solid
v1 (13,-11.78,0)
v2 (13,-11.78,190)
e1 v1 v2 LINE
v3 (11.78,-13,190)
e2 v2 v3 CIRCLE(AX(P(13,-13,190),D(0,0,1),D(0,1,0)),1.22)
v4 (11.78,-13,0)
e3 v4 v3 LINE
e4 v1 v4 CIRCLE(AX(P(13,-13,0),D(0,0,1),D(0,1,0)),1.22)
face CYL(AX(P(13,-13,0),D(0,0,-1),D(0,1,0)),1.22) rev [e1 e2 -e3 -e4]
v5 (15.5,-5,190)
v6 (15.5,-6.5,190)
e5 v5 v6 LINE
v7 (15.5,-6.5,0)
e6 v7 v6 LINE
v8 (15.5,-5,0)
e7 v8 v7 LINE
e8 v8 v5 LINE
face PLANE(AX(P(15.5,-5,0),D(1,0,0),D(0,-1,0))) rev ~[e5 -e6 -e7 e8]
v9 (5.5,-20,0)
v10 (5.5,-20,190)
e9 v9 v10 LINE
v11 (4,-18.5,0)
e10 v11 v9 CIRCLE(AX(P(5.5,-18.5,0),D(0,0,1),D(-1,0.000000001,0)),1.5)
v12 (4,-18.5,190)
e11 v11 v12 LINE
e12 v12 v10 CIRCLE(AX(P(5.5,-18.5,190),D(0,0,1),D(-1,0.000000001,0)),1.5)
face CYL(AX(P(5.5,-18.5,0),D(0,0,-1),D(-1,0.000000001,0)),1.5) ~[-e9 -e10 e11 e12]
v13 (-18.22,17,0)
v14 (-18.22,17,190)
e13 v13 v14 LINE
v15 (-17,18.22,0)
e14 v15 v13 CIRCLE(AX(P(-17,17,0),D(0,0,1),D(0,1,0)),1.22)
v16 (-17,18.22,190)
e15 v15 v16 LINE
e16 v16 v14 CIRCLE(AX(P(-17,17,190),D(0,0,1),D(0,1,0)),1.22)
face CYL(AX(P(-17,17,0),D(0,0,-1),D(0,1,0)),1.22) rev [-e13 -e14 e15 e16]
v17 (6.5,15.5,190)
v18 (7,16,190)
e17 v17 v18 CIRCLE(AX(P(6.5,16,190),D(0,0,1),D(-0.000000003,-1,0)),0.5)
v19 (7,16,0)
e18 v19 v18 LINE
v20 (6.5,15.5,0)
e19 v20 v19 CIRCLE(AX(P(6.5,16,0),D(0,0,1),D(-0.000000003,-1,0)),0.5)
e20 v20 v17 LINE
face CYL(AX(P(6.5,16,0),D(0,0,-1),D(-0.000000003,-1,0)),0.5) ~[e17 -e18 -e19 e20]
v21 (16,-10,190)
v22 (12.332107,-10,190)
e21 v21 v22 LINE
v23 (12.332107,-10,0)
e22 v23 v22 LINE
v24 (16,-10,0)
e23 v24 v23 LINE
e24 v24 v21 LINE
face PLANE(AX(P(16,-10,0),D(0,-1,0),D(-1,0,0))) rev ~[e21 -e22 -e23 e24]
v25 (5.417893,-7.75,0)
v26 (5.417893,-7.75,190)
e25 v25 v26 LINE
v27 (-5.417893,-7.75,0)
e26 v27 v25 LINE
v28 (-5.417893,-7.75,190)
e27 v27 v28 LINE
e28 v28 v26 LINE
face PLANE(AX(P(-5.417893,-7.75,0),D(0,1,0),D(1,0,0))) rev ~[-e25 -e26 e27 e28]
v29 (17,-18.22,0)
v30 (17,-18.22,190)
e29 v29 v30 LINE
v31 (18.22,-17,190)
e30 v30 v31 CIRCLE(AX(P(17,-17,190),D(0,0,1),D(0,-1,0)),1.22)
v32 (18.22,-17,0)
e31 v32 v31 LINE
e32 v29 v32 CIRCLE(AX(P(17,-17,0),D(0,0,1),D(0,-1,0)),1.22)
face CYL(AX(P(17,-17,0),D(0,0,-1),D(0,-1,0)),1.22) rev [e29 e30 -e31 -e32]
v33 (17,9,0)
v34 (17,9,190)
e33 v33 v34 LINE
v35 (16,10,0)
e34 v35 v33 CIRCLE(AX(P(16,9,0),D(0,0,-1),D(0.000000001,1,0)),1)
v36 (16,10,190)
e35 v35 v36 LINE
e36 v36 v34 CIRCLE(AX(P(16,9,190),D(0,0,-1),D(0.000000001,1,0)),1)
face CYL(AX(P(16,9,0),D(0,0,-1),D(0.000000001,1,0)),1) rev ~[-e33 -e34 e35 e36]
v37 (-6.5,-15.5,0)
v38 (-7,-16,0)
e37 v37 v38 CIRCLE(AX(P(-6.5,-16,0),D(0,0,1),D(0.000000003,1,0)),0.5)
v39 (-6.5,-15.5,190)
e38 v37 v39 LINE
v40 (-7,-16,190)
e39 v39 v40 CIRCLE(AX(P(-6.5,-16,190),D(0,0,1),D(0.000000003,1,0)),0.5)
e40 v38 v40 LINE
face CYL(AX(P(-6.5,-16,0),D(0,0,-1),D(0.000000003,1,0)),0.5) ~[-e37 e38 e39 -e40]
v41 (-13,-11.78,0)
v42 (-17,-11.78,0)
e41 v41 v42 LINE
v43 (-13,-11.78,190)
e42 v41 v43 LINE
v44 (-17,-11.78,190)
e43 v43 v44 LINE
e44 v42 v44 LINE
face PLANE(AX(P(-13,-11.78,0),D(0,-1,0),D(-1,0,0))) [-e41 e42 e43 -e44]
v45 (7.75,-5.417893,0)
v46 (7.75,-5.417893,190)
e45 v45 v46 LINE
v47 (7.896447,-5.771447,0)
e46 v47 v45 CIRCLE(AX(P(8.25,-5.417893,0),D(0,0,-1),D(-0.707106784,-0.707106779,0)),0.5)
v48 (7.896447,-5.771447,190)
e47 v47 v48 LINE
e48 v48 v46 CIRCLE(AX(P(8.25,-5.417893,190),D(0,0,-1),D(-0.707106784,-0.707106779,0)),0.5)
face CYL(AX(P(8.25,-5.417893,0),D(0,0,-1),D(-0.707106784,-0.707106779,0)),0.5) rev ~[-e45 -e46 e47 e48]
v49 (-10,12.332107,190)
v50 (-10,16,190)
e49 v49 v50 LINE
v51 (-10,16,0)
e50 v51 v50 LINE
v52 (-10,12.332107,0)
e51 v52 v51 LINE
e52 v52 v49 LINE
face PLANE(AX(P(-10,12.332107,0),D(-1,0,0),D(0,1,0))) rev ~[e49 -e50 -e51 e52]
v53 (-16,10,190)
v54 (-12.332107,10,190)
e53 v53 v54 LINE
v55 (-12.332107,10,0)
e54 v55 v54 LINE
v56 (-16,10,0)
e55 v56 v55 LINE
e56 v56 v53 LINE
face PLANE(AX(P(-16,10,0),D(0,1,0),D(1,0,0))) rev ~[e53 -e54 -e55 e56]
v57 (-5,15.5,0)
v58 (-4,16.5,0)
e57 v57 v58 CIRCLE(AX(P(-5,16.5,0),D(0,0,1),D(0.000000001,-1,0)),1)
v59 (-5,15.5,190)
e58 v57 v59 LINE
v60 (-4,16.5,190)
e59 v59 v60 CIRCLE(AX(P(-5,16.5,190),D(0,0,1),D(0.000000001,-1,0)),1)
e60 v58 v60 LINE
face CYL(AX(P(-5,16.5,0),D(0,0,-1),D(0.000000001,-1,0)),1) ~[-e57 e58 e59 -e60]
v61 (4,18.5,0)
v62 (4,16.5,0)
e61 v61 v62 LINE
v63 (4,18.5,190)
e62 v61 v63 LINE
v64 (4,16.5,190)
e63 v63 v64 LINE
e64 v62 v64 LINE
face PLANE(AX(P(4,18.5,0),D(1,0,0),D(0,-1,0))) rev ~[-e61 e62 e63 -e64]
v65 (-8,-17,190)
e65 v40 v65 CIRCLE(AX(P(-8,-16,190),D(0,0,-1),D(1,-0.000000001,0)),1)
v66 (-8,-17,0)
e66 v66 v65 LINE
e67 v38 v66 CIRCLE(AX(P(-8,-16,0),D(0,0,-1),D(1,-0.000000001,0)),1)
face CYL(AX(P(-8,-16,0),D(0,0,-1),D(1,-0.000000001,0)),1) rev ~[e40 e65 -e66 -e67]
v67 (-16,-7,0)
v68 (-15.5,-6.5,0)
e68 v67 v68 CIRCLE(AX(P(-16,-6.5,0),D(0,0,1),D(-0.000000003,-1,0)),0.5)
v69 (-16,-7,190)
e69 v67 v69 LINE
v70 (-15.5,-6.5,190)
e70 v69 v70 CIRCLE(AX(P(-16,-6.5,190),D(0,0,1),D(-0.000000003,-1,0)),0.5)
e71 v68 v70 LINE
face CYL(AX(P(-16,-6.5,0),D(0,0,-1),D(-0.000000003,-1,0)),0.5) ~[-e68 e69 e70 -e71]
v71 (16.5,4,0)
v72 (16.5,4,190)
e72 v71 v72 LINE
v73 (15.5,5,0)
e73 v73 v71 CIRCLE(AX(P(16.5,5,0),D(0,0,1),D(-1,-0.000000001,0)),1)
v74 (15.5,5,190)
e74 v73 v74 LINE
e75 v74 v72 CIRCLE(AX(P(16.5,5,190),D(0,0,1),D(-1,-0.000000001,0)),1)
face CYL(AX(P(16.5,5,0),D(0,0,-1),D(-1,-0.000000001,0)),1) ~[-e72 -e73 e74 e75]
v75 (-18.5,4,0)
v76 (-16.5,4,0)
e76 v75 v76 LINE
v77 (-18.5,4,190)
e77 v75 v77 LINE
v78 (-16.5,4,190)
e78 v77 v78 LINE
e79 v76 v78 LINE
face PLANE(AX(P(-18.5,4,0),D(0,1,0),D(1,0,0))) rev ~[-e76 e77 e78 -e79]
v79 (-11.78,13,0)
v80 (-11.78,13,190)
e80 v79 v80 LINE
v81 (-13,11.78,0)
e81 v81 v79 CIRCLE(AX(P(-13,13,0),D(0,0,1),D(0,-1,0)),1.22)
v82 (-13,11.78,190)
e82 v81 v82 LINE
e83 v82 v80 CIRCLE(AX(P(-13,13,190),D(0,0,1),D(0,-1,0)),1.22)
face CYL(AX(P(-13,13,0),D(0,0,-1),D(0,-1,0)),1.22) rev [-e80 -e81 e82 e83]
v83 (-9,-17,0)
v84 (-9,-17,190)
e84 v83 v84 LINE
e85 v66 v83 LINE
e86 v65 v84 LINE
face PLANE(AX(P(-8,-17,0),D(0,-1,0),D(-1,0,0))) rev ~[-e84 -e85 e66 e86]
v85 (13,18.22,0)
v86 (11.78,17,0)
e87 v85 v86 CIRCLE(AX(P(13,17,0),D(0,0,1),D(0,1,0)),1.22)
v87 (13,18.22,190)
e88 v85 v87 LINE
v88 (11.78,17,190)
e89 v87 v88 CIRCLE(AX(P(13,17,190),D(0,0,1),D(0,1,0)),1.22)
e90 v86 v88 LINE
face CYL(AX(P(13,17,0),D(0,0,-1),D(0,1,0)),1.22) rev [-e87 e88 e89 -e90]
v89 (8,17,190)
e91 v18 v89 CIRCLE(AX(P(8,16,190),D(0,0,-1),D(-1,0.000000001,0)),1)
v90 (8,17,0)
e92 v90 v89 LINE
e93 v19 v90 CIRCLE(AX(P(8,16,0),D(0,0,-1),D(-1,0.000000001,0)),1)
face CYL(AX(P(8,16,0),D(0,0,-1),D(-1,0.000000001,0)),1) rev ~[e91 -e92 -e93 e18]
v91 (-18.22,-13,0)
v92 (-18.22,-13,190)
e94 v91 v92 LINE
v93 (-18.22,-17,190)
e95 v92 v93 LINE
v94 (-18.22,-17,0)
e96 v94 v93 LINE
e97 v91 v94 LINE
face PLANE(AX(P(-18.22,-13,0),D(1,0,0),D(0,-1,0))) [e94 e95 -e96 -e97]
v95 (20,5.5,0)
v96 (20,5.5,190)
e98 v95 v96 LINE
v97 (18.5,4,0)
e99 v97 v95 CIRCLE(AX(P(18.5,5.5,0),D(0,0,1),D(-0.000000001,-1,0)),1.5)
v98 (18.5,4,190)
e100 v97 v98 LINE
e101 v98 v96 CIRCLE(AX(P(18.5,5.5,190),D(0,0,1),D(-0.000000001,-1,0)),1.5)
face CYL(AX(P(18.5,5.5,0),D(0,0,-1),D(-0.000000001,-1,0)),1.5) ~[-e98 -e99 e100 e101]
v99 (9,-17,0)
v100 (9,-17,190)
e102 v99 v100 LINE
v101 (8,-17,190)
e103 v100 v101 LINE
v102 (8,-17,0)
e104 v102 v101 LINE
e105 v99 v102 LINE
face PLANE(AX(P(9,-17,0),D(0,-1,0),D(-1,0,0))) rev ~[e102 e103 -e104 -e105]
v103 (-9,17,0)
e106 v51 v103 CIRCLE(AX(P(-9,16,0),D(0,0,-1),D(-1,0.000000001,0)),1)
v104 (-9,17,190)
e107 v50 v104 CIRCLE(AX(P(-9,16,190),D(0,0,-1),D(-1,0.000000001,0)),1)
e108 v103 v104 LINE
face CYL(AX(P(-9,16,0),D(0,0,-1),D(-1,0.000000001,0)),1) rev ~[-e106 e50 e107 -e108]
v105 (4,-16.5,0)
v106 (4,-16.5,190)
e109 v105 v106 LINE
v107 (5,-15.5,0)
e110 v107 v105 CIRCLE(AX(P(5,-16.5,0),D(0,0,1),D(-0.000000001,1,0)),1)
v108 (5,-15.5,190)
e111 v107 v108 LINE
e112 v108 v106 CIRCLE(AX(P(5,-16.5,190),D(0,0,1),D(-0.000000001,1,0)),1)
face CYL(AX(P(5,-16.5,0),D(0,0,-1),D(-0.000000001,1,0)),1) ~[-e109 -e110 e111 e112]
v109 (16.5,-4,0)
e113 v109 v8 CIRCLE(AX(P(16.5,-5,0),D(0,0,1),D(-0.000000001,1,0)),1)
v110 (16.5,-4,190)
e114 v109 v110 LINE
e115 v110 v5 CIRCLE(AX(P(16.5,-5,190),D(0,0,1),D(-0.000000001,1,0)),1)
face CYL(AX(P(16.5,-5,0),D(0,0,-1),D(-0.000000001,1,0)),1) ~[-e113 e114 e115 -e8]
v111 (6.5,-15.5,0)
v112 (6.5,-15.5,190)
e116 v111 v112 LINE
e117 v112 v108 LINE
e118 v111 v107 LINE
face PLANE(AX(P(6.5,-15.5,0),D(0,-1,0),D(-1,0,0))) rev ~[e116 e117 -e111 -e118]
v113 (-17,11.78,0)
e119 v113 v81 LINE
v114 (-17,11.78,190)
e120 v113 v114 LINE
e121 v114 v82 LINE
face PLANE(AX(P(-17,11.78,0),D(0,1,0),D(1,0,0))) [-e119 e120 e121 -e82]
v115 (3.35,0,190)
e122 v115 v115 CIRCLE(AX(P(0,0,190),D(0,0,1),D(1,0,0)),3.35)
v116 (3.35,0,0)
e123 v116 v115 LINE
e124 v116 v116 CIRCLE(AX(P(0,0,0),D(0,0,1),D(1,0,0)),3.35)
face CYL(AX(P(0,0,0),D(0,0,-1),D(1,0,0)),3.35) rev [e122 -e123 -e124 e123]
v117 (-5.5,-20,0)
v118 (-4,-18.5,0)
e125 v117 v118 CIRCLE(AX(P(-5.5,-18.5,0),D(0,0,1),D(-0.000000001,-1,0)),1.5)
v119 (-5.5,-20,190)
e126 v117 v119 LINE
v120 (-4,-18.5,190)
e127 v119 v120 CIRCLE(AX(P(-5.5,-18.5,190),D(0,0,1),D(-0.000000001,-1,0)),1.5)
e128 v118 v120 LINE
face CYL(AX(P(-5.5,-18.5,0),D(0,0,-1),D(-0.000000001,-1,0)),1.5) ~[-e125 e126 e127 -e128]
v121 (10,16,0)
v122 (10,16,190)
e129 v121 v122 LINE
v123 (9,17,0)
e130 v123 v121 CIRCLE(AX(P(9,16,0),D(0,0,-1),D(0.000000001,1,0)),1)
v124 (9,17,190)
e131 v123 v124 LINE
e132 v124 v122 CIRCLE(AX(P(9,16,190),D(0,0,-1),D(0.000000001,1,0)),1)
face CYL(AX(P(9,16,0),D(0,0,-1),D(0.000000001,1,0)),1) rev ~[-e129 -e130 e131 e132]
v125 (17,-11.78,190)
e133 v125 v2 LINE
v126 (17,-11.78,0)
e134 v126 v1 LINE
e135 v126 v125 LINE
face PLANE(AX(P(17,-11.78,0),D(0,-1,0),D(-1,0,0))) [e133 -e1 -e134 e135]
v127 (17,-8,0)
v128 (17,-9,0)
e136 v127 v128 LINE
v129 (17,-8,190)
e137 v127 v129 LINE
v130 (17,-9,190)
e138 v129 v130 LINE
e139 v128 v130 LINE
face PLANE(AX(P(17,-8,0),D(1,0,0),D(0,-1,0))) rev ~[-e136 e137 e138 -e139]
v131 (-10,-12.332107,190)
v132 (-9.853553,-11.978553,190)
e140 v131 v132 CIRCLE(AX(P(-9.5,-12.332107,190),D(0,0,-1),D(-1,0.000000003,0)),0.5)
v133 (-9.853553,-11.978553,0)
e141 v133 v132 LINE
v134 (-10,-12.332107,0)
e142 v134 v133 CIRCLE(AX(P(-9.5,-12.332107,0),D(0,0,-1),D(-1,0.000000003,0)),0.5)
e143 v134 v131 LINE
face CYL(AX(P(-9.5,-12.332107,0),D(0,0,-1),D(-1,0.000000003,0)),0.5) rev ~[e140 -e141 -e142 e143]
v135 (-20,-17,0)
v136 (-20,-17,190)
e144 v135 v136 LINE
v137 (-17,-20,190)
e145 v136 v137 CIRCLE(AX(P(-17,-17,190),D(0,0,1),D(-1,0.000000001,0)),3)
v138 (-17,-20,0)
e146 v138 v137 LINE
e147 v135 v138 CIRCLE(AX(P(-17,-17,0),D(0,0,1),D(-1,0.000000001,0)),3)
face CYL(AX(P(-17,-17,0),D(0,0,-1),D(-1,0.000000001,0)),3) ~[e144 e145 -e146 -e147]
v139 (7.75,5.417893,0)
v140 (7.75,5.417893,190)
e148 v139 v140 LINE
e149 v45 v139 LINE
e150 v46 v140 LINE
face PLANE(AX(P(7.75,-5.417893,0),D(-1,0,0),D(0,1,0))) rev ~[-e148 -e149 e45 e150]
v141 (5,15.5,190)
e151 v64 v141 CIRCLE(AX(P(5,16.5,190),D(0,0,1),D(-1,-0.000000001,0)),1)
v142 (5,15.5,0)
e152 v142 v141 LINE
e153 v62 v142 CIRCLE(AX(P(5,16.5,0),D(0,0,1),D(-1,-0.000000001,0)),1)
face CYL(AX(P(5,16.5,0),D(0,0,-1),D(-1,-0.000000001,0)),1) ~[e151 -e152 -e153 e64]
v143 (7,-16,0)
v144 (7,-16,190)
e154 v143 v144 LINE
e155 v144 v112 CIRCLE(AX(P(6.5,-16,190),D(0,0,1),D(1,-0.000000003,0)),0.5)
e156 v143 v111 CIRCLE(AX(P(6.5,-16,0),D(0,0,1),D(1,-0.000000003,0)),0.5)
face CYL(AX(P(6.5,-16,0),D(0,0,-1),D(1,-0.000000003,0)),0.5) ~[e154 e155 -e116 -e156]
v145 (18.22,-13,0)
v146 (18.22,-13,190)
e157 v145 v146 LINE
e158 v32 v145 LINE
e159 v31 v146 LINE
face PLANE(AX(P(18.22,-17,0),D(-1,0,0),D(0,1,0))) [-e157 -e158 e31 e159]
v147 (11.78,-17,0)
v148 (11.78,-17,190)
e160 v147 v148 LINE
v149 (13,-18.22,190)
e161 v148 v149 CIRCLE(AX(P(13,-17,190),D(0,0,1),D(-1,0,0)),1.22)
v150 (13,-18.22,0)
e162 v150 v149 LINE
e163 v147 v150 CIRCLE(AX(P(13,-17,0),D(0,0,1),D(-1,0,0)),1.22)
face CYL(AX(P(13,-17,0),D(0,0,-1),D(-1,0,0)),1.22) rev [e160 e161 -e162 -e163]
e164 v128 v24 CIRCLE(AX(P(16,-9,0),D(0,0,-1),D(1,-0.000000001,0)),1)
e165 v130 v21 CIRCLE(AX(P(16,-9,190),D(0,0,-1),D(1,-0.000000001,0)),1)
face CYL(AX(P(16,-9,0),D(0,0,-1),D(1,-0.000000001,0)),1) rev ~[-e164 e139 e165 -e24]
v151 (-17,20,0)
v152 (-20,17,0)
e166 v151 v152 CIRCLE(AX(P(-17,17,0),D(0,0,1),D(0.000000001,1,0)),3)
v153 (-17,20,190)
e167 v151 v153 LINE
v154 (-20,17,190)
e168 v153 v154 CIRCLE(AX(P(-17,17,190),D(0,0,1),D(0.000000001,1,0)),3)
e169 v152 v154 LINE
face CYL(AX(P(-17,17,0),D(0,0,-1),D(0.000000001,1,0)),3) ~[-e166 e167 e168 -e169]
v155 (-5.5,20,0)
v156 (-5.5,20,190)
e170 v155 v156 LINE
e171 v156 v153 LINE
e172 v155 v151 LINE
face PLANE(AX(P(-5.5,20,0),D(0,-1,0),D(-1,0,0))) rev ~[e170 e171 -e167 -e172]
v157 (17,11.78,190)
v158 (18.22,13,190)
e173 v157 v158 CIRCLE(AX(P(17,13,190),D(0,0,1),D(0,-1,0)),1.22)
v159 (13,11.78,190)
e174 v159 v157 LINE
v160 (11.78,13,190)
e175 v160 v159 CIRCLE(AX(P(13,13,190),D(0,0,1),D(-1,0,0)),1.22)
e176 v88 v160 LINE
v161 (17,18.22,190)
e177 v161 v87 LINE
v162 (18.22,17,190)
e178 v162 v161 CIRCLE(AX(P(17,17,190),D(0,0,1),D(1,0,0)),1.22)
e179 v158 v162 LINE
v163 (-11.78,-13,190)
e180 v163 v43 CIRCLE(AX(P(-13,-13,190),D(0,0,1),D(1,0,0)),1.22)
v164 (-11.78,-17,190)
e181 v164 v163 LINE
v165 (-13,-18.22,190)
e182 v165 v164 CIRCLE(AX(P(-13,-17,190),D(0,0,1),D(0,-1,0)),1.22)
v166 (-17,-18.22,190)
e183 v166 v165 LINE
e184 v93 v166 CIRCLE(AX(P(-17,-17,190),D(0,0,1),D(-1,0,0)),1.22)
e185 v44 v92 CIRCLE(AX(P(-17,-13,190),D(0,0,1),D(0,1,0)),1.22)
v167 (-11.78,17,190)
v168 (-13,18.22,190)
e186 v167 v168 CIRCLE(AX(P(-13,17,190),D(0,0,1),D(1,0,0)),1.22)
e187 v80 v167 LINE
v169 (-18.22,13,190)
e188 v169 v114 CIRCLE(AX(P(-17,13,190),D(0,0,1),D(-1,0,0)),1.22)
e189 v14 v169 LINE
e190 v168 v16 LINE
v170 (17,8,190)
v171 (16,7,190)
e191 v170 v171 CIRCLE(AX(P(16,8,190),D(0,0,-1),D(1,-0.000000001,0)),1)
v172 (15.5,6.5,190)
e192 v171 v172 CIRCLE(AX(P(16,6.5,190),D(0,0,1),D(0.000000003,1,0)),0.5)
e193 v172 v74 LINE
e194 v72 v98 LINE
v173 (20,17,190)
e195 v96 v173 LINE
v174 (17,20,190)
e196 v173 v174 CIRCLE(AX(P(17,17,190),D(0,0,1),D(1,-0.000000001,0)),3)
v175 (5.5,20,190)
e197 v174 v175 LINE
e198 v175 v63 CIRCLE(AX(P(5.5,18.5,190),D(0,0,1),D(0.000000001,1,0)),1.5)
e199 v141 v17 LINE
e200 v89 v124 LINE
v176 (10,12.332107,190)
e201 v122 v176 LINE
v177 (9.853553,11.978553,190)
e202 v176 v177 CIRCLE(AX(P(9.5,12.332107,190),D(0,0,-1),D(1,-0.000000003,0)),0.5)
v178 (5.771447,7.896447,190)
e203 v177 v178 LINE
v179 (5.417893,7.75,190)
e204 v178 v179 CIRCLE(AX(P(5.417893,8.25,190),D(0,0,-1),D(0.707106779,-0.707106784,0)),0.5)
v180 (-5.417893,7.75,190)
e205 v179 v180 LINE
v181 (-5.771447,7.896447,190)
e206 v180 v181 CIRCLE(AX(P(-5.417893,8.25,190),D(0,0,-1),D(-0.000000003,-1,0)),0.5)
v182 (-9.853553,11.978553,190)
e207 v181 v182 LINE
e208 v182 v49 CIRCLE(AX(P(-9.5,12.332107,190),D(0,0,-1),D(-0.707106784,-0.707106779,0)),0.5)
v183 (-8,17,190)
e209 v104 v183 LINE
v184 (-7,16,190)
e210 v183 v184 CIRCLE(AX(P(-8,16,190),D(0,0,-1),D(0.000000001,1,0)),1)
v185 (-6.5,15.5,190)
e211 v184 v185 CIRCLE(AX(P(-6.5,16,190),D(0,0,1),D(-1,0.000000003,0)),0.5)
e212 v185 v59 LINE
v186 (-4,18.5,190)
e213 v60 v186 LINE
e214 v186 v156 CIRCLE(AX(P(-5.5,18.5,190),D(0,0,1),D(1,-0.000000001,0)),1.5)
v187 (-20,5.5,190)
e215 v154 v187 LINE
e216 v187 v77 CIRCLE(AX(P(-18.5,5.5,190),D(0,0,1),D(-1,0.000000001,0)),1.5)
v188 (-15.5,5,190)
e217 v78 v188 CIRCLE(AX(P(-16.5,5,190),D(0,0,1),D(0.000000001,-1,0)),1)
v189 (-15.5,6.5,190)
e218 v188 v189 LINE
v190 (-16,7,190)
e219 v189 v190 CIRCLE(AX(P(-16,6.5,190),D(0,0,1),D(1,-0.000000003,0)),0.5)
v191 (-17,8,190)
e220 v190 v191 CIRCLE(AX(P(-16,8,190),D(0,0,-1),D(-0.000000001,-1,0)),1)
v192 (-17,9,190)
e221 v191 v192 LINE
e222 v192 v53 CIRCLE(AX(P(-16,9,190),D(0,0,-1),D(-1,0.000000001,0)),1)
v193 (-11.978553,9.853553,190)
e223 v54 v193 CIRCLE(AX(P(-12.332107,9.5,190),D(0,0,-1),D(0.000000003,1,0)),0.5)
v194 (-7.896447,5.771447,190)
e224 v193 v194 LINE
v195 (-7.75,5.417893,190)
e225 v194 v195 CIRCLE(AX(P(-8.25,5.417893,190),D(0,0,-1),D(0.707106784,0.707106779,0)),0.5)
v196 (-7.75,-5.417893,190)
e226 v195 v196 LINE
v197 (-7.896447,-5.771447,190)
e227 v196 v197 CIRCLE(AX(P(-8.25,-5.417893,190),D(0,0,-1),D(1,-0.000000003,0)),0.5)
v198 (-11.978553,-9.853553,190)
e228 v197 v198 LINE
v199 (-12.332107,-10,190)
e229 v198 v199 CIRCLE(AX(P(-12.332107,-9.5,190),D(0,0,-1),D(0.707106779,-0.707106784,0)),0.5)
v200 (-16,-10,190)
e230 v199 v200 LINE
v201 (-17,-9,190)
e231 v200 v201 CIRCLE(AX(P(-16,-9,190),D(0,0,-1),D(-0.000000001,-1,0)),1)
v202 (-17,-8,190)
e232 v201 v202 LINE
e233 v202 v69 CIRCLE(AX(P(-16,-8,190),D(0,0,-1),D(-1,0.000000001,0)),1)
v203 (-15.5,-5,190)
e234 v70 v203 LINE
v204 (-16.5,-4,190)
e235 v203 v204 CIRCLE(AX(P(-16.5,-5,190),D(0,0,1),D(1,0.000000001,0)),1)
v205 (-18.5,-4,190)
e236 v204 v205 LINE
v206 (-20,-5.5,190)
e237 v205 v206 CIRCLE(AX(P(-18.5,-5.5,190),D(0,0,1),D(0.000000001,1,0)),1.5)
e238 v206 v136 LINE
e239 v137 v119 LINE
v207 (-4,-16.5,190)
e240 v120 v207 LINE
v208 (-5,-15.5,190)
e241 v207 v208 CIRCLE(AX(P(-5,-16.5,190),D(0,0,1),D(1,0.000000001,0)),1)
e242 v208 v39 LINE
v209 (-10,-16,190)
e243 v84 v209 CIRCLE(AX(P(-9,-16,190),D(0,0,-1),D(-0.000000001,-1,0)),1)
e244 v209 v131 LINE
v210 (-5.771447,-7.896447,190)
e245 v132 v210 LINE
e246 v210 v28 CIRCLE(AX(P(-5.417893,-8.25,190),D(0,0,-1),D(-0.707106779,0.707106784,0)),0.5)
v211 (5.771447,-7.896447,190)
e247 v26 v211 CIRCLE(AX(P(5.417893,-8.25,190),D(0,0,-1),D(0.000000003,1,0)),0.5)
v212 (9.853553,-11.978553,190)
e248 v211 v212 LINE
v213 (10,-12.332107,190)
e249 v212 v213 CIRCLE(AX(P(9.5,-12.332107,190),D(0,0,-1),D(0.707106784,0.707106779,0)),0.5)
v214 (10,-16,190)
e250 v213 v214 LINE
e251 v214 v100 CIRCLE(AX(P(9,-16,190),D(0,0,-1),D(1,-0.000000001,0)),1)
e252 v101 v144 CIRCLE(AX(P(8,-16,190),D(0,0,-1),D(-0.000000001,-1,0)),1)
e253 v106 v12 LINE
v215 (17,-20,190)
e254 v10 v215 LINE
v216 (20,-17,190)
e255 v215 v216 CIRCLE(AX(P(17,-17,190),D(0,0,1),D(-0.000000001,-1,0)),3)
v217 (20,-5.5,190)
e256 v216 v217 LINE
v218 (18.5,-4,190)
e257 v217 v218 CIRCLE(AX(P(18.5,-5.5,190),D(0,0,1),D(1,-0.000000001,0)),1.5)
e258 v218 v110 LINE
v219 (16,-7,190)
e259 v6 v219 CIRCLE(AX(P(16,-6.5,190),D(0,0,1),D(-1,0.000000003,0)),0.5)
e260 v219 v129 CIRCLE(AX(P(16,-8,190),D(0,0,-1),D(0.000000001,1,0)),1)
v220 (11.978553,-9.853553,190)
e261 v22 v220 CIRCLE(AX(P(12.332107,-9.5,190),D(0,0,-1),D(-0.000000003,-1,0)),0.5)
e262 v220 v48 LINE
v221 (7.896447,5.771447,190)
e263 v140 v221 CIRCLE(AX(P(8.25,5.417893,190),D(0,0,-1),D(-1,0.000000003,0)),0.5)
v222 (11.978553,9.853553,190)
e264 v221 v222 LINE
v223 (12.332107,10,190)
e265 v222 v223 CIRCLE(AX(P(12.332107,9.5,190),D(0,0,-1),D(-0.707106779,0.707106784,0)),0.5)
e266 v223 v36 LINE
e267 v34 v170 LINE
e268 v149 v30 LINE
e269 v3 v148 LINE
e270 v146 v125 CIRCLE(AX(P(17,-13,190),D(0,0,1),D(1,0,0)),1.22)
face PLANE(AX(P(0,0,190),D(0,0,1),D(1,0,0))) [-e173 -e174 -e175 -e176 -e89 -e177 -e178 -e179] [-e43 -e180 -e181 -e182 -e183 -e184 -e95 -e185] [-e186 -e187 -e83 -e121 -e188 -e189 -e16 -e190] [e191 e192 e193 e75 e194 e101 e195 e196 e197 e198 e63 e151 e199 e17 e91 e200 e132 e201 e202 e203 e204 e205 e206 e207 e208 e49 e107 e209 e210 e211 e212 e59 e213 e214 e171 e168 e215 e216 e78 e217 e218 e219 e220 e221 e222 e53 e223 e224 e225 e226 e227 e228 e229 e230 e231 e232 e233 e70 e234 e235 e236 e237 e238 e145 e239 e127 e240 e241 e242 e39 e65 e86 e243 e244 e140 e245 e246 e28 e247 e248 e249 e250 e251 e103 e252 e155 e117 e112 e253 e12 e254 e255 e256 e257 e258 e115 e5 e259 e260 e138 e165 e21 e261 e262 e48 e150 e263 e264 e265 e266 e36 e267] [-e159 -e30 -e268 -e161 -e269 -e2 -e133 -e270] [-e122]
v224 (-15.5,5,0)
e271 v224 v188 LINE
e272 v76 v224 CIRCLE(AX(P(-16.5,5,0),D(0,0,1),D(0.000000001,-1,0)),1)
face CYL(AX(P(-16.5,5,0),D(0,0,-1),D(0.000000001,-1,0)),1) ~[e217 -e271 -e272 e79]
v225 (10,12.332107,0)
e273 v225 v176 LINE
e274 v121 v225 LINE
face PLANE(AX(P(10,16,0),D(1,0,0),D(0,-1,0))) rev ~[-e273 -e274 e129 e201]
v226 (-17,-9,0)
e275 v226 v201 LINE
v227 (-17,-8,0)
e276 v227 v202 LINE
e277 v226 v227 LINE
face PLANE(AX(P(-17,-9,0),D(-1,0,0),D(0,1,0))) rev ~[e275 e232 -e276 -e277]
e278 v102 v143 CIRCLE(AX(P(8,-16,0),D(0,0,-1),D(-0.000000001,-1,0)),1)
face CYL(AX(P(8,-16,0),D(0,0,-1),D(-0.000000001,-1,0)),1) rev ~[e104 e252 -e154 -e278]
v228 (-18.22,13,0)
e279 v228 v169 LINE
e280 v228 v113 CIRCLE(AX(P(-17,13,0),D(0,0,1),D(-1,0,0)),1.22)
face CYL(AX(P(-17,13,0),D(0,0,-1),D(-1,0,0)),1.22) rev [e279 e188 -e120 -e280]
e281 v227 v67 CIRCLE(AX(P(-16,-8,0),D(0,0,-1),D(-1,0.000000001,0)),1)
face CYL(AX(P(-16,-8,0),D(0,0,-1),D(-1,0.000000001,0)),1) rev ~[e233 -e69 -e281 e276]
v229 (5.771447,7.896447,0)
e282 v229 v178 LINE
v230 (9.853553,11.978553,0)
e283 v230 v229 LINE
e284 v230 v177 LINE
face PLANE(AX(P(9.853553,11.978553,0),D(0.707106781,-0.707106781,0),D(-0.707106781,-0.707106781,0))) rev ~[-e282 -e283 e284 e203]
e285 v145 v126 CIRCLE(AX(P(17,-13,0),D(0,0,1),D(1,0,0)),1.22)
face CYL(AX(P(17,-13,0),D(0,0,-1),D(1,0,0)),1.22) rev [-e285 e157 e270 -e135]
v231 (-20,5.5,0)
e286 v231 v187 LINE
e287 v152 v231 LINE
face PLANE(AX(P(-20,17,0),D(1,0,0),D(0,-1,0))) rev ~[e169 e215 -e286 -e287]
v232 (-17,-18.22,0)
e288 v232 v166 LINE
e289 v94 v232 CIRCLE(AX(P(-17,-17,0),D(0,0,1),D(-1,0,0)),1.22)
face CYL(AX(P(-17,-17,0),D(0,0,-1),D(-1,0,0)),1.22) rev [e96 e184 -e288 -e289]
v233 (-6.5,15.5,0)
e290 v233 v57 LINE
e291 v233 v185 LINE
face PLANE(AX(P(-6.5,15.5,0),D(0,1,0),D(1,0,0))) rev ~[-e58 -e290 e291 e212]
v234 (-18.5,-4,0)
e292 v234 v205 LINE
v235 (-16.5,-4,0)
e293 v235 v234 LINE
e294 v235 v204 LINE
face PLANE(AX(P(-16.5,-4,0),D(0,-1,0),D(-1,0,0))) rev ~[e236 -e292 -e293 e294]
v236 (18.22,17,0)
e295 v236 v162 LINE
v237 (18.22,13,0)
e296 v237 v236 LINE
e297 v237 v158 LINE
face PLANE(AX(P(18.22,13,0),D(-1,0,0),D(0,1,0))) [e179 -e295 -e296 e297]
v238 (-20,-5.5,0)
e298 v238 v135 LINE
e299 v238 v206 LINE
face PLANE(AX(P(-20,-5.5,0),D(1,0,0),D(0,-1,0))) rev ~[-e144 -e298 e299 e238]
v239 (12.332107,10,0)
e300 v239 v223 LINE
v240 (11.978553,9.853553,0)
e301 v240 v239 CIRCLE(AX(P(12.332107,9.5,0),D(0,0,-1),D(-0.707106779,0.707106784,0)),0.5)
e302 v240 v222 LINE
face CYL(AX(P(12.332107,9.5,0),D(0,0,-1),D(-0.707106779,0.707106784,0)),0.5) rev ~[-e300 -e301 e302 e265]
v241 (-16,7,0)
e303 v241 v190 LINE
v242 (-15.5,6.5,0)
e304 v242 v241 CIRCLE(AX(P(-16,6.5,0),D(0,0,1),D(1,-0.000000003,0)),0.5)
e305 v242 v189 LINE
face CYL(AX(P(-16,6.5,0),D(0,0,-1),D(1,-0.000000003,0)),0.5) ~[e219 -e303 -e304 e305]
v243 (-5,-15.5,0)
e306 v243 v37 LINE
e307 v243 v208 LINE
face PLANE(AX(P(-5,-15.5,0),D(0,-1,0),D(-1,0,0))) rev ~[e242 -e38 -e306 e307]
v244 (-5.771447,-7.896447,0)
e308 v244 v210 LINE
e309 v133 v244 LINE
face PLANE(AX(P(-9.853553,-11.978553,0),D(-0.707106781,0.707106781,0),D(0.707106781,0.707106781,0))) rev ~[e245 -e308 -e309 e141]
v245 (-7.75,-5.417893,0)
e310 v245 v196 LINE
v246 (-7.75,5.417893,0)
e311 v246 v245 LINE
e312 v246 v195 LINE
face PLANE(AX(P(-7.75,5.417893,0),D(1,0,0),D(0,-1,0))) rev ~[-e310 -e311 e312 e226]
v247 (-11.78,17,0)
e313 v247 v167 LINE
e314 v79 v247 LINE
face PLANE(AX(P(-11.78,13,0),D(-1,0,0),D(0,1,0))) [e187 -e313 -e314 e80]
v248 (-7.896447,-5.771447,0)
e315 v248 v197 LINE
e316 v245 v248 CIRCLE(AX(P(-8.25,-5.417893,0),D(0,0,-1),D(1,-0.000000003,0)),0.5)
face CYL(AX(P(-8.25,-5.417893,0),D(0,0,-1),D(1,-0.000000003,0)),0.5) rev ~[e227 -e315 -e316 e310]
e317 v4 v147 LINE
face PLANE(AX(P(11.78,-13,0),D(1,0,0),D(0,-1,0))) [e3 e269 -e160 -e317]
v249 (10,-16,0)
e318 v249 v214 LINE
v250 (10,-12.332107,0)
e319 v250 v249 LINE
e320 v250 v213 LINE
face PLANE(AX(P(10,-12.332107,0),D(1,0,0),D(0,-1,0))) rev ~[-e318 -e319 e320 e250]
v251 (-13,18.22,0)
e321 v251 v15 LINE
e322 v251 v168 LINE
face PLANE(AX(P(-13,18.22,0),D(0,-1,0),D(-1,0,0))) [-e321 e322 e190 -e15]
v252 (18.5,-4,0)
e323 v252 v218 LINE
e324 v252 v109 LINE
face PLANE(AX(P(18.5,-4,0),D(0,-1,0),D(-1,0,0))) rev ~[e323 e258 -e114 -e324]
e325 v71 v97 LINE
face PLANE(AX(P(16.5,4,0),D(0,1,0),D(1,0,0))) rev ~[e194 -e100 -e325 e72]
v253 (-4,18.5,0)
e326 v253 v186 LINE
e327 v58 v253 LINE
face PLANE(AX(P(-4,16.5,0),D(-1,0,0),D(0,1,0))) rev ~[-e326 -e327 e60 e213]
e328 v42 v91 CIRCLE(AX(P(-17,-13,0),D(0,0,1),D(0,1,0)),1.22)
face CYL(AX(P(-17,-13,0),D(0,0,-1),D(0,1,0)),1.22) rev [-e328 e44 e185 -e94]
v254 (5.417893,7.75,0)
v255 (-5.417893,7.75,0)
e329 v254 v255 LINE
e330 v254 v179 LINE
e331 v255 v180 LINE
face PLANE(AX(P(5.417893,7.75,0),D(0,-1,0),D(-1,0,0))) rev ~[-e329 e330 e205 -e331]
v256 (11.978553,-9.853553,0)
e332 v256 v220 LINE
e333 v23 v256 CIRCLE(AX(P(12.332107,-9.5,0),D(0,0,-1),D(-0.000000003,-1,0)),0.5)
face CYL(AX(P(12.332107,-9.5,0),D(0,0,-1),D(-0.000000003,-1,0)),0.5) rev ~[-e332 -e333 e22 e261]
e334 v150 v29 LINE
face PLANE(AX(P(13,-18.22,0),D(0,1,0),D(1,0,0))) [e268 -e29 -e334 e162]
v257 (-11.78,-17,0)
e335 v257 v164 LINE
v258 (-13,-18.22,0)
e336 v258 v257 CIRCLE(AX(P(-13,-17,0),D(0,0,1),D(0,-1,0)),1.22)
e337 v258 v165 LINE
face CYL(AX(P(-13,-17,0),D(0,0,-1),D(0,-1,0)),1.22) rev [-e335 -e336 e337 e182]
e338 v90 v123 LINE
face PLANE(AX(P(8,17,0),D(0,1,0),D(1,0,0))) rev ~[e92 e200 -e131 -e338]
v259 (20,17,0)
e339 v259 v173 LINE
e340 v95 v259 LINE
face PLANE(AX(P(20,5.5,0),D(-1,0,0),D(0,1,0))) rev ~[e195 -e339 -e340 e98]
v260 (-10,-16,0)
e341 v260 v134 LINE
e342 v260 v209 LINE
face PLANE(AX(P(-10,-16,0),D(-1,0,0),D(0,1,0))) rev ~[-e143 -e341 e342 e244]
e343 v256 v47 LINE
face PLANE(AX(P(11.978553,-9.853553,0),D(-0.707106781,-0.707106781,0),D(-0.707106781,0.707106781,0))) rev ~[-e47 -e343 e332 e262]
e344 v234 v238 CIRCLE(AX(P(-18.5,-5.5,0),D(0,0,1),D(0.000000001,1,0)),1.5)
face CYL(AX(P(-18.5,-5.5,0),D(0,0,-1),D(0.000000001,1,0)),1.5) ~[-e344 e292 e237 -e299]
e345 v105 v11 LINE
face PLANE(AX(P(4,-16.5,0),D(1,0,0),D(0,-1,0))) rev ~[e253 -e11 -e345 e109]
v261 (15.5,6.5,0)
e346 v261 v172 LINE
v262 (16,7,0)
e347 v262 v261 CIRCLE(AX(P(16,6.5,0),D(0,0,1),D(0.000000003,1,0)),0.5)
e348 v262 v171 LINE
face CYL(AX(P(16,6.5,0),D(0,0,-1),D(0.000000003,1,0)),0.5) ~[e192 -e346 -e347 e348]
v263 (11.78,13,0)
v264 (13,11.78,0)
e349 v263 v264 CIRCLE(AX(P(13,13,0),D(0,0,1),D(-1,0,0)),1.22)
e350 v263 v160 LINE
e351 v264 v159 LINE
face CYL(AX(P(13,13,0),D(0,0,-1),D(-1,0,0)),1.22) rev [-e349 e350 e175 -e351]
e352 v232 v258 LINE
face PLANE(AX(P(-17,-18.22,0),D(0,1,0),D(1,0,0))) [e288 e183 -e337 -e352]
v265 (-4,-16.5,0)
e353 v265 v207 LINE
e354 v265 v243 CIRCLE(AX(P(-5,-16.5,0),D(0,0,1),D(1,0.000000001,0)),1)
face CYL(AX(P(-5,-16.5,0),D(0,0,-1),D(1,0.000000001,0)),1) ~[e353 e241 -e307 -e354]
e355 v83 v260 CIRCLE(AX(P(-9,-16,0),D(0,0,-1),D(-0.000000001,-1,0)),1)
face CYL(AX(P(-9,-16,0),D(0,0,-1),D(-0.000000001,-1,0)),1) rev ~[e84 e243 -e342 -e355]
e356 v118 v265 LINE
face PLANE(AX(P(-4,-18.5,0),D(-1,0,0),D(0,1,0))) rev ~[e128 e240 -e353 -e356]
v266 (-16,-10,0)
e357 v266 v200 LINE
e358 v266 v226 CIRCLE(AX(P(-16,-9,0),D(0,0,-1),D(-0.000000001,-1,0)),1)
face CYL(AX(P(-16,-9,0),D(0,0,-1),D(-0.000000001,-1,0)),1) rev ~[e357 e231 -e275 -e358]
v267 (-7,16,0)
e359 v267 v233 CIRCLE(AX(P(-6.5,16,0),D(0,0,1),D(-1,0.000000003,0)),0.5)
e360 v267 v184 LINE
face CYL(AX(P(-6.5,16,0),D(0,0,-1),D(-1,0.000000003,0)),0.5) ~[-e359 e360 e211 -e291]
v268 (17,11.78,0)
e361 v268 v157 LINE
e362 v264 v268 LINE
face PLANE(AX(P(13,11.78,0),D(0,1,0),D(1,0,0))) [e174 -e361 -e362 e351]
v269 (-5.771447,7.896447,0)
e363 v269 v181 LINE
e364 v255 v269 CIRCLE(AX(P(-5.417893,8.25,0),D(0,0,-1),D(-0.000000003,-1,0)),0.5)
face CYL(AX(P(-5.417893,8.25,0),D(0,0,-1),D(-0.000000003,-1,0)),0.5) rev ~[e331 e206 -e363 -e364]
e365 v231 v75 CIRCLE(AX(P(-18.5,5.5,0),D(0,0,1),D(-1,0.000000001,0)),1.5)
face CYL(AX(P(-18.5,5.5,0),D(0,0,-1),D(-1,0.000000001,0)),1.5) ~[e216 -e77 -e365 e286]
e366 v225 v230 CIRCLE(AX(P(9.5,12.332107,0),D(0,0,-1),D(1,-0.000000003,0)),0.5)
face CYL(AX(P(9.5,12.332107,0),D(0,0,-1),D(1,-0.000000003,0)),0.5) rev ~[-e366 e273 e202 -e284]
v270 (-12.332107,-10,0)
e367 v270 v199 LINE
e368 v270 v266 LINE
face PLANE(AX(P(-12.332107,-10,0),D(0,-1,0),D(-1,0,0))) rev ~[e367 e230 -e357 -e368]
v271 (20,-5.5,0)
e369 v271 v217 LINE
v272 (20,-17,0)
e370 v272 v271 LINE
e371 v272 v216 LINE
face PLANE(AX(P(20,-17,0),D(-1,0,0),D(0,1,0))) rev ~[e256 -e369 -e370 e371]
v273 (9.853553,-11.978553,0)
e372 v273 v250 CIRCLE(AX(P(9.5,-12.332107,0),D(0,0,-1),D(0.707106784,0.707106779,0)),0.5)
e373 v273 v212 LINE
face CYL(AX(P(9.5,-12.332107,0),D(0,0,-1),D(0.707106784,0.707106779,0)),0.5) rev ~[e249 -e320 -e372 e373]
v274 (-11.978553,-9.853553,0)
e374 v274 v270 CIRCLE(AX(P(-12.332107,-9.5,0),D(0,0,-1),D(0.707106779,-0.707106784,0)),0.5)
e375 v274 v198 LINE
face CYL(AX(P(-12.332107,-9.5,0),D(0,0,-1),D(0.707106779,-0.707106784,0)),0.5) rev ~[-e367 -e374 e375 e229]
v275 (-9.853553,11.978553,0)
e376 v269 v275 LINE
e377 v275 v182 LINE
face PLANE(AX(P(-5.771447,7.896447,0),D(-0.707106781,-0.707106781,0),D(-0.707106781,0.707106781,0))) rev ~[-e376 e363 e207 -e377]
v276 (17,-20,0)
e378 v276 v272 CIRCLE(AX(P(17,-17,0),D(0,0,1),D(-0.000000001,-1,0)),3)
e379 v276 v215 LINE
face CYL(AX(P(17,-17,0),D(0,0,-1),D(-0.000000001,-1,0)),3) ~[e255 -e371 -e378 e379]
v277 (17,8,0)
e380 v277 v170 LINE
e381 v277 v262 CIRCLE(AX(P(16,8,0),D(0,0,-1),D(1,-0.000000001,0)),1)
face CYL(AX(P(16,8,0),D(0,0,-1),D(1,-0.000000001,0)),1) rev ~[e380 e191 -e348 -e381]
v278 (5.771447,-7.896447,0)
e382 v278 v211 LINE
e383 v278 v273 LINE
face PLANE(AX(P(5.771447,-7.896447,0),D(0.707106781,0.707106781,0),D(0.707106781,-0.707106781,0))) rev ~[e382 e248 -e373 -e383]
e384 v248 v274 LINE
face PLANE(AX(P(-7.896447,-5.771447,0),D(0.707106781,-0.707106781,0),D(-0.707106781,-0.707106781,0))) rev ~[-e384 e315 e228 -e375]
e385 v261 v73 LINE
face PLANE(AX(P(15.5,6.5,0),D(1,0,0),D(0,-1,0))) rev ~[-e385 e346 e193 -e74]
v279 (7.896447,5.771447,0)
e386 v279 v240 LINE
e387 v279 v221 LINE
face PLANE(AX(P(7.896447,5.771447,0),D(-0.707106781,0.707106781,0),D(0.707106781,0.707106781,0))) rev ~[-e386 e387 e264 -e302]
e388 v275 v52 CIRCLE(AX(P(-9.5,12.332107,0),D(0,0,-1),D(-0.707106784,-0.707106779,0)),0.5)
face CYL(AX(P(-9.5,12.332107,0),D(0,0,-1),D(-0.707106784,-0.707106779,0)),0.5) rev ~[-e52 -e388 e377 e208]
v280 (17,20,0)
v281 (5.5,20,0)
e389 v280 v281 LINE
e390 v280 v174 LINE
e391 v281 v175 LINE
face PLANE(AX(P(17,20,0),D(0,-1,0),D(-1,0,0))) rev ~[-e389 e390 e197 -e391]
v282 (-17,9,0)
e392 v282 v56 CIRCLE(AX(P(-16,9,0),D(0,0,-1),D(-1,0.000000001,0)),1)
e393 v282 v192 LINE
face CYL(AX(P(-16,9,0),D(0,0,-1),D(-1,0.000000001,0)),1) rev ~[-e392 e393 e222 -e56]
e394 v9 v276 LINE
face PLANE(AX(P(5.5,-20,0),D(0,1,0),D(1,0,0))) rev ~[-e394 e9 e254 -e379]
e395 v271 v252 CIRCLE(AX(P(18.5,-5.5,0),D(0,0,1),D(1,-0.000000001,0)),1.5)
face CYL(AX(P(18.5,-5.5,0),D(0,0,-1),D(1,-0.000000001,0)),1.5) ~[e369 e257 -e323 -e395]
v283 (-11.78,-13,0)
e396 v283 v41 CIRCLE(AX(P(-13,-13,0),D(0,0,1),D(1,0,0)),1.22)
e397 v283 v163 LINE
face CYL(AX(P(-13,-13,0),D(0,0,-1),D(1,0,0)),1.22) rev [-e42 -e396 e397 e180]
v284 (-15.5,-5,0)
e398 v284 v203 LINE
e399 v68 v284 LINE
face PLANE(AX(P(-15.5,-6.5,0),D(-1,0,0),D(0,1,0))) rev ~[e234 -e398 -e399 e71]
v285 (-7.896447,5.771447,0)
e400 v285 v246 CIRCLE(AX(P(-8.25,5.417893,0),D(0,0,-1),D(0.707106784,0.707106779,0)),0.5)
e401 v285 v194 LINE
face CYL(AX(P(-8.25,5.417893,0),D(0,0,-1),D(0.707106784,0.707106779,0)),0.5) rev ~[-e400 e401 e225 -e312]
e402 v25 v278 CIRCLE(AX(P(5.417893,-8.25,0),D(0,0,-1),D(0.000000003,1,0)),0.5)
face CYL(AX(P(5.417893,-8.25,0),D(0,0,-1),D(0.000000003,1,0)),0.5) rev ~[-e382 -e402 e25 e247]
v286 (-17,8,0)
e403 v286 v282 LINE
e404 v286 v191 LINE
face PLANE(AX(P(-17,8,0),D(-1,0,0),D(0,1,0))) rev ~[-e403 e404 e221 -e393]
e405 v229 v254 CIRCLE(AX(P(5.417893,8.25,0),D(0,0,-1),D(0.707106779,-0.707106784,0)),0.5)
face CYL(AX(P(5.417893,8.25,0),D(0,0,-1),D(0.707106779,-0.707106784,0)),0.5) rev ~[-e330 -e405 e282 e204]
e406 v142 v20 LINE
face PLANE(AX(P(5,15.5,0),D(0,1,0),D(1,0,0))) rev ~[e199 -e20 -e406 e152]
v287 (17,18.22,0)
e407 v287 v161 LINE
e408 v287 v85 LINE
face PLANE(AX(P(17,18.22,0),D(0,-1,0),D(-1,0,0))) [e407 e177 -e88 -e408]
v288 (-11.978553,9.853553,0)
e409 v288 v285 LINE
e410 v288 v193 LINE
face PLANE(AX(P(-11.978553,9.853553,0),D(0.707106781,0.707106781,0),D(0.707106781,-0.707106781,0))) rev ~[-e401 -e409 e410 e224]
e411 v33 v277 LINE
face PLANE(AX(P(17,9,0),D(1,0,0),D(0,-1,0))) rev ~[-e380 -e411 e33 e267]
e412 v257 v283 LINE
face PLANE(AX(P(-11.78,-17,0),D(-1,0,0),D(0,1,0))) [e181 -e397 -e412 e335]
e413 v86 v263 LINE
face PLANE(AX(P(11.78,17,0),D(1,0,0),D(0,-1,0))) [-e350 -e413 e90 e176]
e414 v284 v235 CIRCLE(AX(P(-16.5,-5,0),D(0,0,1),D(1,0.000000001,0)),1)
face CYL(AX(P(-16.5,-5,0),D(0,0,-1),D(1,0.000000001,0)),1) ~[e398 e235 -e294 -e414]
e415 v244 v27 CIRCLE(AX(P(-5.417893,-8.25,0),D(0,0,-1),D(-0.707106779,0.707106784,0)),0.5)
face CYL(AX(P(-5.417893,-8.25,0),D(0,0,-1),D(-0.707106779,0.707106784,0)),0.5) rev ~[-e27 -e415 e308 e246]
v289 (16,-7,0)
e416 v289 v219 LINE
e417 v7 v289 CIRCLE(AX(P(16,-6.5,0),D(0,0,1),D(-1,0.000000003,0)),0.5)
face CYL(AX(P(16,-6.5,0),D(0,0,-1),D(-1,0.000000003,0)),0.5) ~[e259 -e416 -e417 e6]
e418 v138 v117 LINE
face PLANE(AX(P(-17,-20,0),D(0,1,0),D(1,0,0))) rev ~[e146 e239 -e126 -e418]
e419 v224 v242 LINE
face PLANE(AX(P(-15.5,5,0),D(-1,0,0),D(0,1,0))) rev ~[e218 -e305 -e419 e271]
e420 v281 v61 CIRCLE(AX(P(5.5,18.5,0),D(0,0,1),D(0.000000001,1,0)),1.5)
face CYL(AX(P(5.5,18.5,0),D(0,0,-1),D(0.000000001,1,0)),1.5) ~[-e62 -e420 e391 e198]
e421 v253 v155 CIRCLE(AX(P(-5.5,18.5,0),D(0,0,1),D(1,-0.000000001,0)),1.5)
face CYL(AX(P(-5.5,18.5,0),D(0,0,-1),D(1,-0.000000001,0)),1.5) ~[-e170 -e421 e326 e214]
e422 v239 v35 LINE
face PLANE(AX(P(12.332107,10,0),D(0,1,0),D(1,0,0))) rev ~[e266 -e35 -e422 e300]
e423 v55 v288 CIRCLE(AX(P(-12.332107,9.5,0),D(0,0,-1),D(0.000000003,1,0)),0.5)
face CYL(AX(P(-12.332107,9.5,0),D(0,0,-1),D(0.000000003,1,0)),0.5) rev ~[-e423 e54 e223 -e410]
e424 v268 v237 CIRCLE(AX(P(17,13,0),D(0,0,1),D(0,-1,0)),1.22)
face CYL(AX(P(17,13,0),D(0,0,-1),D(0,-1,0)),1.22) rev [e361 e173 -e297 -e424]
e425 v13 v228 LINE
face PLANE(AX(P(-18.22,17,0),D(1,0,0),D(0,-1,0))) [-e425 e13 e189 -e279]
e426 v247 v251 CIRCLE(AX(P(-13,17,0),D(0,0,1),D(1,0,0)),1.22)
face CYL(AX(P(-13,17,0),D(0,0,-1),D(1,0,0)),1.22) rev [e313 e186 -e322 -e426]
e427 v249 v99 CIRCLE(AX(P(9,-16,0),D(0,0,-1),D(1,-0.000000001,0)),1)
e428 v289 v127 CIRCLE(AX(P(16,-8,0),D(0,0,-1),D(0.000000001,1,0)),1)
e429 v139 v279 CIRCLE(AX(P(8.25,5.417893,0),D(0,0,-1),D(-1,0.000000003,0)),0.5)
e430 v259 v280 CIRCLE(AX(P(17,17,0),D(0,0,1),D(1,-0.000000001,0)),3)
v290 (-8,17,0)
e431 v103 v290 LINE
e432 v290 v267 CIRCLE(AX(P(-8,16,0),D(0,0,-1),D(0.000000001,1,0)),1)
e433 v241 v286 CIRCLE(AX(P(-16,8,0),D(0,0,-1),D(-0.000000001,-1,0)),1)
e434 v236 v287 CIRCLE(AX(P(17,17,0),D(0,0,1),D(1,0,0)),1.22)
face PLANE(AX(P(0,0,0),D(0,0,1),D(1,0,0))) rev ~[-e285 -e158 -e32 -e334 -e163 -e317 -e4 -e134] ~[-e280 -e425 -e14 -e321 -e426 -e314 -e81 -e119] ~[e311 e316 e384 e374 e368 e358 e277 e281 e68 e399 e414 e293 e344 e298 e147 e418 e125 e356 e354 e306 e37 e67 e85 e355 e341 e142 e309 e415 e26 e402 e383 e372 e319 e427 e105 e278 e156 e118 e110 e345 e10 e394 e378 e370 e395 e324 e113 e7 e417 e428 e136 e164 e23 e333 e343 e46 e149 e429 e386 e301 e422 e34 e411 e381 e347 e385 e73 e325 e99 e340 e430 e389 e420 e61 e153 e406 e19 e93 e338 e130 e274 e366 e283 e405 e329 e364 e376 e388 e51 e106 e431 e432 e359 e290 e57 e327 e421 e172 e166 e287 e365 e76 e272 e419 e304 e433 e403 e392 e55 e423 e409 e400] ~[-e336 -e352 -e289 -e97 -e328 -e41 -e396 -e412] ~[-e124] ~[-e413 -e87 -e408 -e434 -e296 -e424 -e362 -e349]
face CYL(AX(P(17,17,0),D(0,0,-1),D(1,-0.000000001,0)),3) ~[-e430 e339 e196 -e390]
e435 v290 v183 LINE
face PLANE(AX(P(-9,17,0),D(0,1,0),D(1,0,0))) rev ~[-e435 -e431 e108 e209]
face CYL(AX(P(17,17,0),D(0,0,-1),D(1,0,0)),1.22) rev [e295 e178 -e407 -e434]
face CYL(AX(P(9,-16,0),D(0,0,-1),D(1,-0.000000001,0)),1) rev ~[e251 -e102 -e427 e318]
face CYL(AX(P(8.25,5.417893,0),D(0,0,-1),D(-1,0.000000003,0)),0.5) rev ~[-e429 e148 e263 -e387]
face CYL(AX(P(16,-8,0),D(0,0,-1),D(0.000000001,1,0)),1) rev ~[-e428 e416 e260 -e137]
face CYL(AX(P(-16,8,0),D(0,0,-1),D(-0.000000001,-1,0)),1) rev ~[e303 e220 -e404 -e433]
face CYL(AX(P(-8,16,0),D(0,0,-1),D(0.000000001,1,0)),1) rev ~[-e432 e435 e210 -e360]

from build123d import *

# Parameters (mm, degrees)
SKETCH1_R           = 3.35
BOSS_EXTRUDE1_DEPTH = 190


with BuildPart() as part:
    # Sketch1 → Boss-Extrude1 (new body)
    with BuildSketch(Plane.XY):
        with BuildLine():
            Line((-9.853553391, -11.978553391), (-5.771446609, -7.896446609))
            ThreePointArc((-5.771446609, -7.896446609), (-5.609234935, -7.788060234), (-5.417893219, -7.75))
            Line((-5.417893219, -7.75), (5.417893219, -7.75))
            ThreePointArc((5.417893219, -7.75), (5.609234935, -7.788060234), (5.771446609, -7.896446609))
            Line((5.771446609, -7.896446609), (9.853553391, -11.978553391))
            ThreePointArc((9.853553391, -11.978553391), (9.961939766, -12.140765065), (10, -12.332106781))
            Line((10, -12.332106781), (10, -16))
            ThreePointArc((10, -16), (9.707106781, -16.707106781), (9, -17))
            Line((9, -17), (8, -17))
            ThreePointArc((8, -17), (7.292893219, -16.707106781), (7, -16))
            ThreePointArc((7, -16), (6.853553391, -15.646446609), (6.5, -15.5))
            Line((6.5, -15.5), (5, -15.5))
            ThreePointArc((5, -15.5), (4.292893219, -15.792893219), (4, -16.5))
            Line((4, -16.5), (4, -18.5))
            ThreePointArc((4, -18.5), (4.439339828, -19.560660172), (5.5, -20))
            Line((5.5, -20), (17, -20))
            ThreePointArc((17, -20), (19.121320344, -19.121320344), (20, -17))
            Line((20, -17), (20, -5.5))
            ThreePointArc((20, -5.5), (19.560660172, -4.439339828), (18.5, -4))
            Line((18.5, -4), (16.5, -4))
            ThreePointArc((16.5, -4), (15.792893219, -4.292893219), (15.5, -5))
            Line((15.5, -5), (15.5, -6.5))
            ThreePointArc((15.5, -6.5), (15.646446609, -6.853553391), (16, -7))
            ThreePointArc((16, -7), (16.707106781, -7.292893219), (17, -8))
            Line((17, -8), (17, -9))
            ThreePointArc((17, -9), (16.707106781, -9.707106781), (16, -10))
            Line((16, -10), (12.332106781, -10))
            ThreePointArc((12.332106781, -10), (12.140765065, -9.961939766), (11.978553391, -9.853553391))
            Line((11.978553391, -9.853553391), (7.896446609, -5.771446609))
            ThreePointArc((7.896446609, -5.771446609), (7.788060234, -5.609234935), (7.75, -5.417893219))
            Line((7.75, -5.417893219), (7.75, 5.417893219))
            ThreePointArc((7.75, 5.417893219), (7.788060234, 5.609234935), (7.896446609, 5.771446609))
            Line((7.896446609, 5.771446609), (11.978553391, 9.853553391))
            ThreePointArc((11.978553391, 9.853553391), (12.140765065, 9.961939766), (12.332106781, 10))
            Line((12.332106781, 10), (16, 10))
            ThreePointArc((16, 10), (16.707106781, 9.707106781), (17, 9))
            Line((17, 9), (17, 8))
            ThreePointArc((17, 8), (16.707106781, 7.292893219), (16, 7))
            ThreePointArc((16, 7), (15.646446609, 6.853553391), (15.5, 6.5))
            Line((15.5, 6.5), (15.5, 5))
            ThreePointArc((15.5, 5), (15.792893219, 4.292893219), (16.5, 4))
            Line((16.5, 4), (18.5, 4))
            ThreePointArc((18.5, 4), (19.560660172, 4.439339828), (20, 5.5))
            Line((20, 5.5), (20, 17))
            ThreePointArc((20, 17), (19.121320344, 19.121320344), (17, 20))
            Line((17, 20), (5.5, 20))
            ThreePointArc((5.5, 20), (4.439339828, 19.560660172), (4, 18.5))
            Line((4, 18.5), (4, 16.5))
            ThreePointArc((4, 16.5), (4.292893219, 15.792893219), (5, 15.5))
            Line((5, 15.5), (6.5, 15.5))
            ThreePointArc((6.5, 15.5), (6.853553391, 15.646446609), (7, 16))
            ThreePointArc((7, 16), (7.292893219, 16.707106781), (8, 17))
            Line((8, 17), (9, 17))
            ThreePointArc((9, 17), (9.707106781, 16.707106781), (10, 16))
            Line((10, 16), (10, 12.332106781))
            ThreePointArc((10, 12.332106781), (9.961939766, 12.140765065), (9.853553391, 11.978553391))
            Line((9.853553391, 11.978553391), (5.771446609, 7.896446609))
            ThreePointArc((5.771446609, 7.896446609), (5.609234935, 7.788060234), (5.417893219, 7.75))
            Line((5.417893219, 7.75), (-5.417893219, 7.75))
            ThreePointArc((-5.417893219, 7.75), (-5.609234935, 7.788060234), (-5.771446609, 7.896446609))
            Line((-5.771446609, 7.896446609), (-9.853553391, 11.978553391))
            ThreePointArc((-9.853553391, 11.978553391), (-9.961939766, 12.140765065), (-10, 12.332106781))
            Line((-10, 12.332106781), (-10, 16))
            ThreePointArc((-10, 16), (-9.707106781, 16.707106781), (-9, 17))
            Line((-9, 17), (-8, 17))
            ThreePointArc((-8, 17), (-7.292893219, 16.707106781), (-7, 16))
            ThreePointArc((-7, 16), (-6.853553391, 15.646446609), (-6.5, 15.5))
            Line((-6.5, 15.5), (-5, 15.5))
            ThreePointArc((-5, 15.5), (-4.292893219, 15.792893219), (-4, 16.5))
            Line((-4, 16.5), (-4, 18.5))
            ThreePointArc((-4, 18.5), (-4.439339828, 19.560660172), (-5.5, 20))
            Line((-5.5, 20), (-17, 20))
            ThreePointArc((-17, 20), (-19.121320344, 19.121320344), (-20, 17))
            Line((-20, 17), (-20, 5.5))
            ThreePointArc((-20, 5.5), (-19.560660172, 4.439339828), (-18.5, 4))
            Line((-18.5, 4), (-16.5, 4))
            ThreePointArc((-16.5, 4), (-15.792893219, 4.292893219), (-15.5, 5))
            Line((-15.5, 5), (-15.5, 6.5))
            ThreePointArc((-15.5, 6.5), (-15.646446609, 6.853553391), (-16, 7))
            ThreePointArc((-16, 7), (-16.707106781, 7.292893219), (-17, 8))
            Line((-17, 8), (-17, 9))
            ThreePointArc((-17, 9), (-16.707106781, 9.707106781), (-16, 10))
            Line((-16, 10), (-12.332106781, 10))
            ThreePointArc((-12.332106781, 10), (-12.140765065, 9.961939766), (-11.978553391, 9.853553391))
            Line((-11.978553391, 9.853553391), (-7.896446609, 5.771446609))
            ThreePointArc((-7.896446609, 5.771446609), (-7.788060234, 5.609234935), (-7.75, 5.417893219))
            Line((-7.75, 5.417893219), (-7.75, -5.417893219))
            ThreePointArc((-7.75, -5.417893219), (-7.788060234, -5.609234935), (-7.896446609, -5.771446609))
            Line((-7.896446609, -5.771446609), (-11.978553391, -9.853553391))
            ThreePointArc((-11.978553391, -9.853553391), (-12.140765065, -9.961939766), (-12.332106781, -10))
            Line((-12.332106781, -10), (-16, -10))
            ThreePointArc((-16, -10), (-16.707106781, -9.707106781), (-17, -9))
            Line((-17, -9), (-17, -8))
            ThreePointArc((-17, -8), (-16.707106781, -7.292893219), (-16, -7))
            ThreePointArc((-16, -7), (-15.646446609, -6.853553391), (-15.5, -6.5))
            Line((-15.5, -6.5), (-15.5, -5))
            ThreePointArc((-15.5, -5), (-15.792893219, -4.292893219), (-16.5, -4))
            Line((-16.5, -4), (-18.5, -4))
            ThreePointArc((-18.5, -4), (-19.560660172, -4.439339828), (-20, -5.5))
            Line((-20, -5.5), (-20, -17))
            ThreePointArc((-20, -17), (-19.121320344, -19.121320344), (-17, -20))
            Line((-17, -20), (-5.5, -20))
            ThreePointArc((-5.5, -20), (-4.439339828, -19.560660172), (-4, -18.5))
            Line((-4, -18.5), (-4, -16.5))
            ThreePointArc((-4, -16.5), (-4.292893219, -15.792893219), (-5, -15.5))
            Line((-5, -15.5), (-6.5, -15.5))
            ThreePointArc((-6.5, -15.5), (-6.853553391, -15.646446609), (-7, -16))
            ThreePointArc((-7, -16), (-7.292893219, -16.707106781), (-8, -17))
            Line((-8, -17), (-9, -17))
            ThreePointArc((-9, -17), (-9.707106781, -16.707106781), (-10, -16))
            Line((-10, -16), (-10, -12.332106781))
            ThreePointArc((-10, -12.332106781), (-9.961939766, -12.140765065), (-9.853553391, -11.978553391))
        make_face()
        Circle(SKETCH1_R, mode=Mode.SUBTRACT)
        with BuildLine():
            Line((-17, 11.78), (-13, 11.78))
            ThreePointArc((-13, 11.78), (-12.137329727, 12.137329727), (-11.78, 13))
            Line((-11.78, 13), (-11.78, 17))
            ThreePointArc((-11.78, 17), (-12.137329727, 17.862670273), (-13, 18.22))
            Line((-13, 18.22), (-17, 18.22))
            ThreePointArc((-17, 18.22), (-17.862670273, 17.862670273), (-18.22, 17))
            Line((-18.22, 17), (-18.22, 13))
            ThreePointArc((-18.22, 13), (-17.862670273, 12.137329727), (-17, 11.78))
        make_face(mode=Mode.SUBTRACT)
        with BuildLine():
            Line((-18.22, -13), (-18.22, -17))
            ThreePointArc((-18.22, -17), (-17.862670273, -17.862670273), (-17, -18.22))
            Line((-17, -18.22), (-13, -18.22))
            ThreePointArc((-13, -18.22), (-12.137329727, -17.862670273), (-11.78, -17))
            Line((-11.78, -17), (-11.78, -13))
            ThreePointArc((-11.78, -13), (-12.137329727, -12.137329727), (-13, -11.78))
            Line((-13, -11.78), (-17, -11.78))
            ThreePointArc((-17, -11.78), (-17.862670273, -12.137329727), (-18.22, -13))
        make_face(mode=Mode.SUBTRACT)
        with BuildLine():
            Line((13, -18.22), (17, -18.22))
            ThreePointArc((17, -18.22), (17.862670273, -17.862670273), (18.22, -17))
            Line((18.22, -17), (18.22, -13))
            ThreePointArc((18.22, -13), (17.862670273, -12.137329727), (17, -11.78))
            Line((17, -11.78), (13, -11.78))
            ThreePointArc((13, -11.78), (12.137329727, -12.137329727), (11.78, -13))
            Line((11.78, -13), (11.78, -17))
            ThreePointArc((11.78, -17), (12.137329727, -17.862670273), (13, -18.22))
        make_face(mode=Mode.SUBTRACT)
        with BuildLine():
            Line((18.22, 13), (18.22, 17))
            ThreePointArc((18.22, 17), (17.862670273, 17.862670273), (17, 18.22))
            Line((17, 18.22), (13, 18.22))
            ThreePointArc((13, 18.22), (12.137329727, 17.862670273), (11.78, 17))
            Line((11.78, 17), (11.78, 13))
            ThreePointArc((11.78, 13), (12.137329727, 12.137329727), (13, 11.78))
            Line((13, 11.78), (17, 11.78))
            ThreePointArc((17, 11.78), (17.862670273, 12.137329727), (18.22, 13))
        make_face(mode=Mode.SUBTRACT)
    extrude(amount=BOSS_EXTRUDE1_DEPTH)


solid = part.part
